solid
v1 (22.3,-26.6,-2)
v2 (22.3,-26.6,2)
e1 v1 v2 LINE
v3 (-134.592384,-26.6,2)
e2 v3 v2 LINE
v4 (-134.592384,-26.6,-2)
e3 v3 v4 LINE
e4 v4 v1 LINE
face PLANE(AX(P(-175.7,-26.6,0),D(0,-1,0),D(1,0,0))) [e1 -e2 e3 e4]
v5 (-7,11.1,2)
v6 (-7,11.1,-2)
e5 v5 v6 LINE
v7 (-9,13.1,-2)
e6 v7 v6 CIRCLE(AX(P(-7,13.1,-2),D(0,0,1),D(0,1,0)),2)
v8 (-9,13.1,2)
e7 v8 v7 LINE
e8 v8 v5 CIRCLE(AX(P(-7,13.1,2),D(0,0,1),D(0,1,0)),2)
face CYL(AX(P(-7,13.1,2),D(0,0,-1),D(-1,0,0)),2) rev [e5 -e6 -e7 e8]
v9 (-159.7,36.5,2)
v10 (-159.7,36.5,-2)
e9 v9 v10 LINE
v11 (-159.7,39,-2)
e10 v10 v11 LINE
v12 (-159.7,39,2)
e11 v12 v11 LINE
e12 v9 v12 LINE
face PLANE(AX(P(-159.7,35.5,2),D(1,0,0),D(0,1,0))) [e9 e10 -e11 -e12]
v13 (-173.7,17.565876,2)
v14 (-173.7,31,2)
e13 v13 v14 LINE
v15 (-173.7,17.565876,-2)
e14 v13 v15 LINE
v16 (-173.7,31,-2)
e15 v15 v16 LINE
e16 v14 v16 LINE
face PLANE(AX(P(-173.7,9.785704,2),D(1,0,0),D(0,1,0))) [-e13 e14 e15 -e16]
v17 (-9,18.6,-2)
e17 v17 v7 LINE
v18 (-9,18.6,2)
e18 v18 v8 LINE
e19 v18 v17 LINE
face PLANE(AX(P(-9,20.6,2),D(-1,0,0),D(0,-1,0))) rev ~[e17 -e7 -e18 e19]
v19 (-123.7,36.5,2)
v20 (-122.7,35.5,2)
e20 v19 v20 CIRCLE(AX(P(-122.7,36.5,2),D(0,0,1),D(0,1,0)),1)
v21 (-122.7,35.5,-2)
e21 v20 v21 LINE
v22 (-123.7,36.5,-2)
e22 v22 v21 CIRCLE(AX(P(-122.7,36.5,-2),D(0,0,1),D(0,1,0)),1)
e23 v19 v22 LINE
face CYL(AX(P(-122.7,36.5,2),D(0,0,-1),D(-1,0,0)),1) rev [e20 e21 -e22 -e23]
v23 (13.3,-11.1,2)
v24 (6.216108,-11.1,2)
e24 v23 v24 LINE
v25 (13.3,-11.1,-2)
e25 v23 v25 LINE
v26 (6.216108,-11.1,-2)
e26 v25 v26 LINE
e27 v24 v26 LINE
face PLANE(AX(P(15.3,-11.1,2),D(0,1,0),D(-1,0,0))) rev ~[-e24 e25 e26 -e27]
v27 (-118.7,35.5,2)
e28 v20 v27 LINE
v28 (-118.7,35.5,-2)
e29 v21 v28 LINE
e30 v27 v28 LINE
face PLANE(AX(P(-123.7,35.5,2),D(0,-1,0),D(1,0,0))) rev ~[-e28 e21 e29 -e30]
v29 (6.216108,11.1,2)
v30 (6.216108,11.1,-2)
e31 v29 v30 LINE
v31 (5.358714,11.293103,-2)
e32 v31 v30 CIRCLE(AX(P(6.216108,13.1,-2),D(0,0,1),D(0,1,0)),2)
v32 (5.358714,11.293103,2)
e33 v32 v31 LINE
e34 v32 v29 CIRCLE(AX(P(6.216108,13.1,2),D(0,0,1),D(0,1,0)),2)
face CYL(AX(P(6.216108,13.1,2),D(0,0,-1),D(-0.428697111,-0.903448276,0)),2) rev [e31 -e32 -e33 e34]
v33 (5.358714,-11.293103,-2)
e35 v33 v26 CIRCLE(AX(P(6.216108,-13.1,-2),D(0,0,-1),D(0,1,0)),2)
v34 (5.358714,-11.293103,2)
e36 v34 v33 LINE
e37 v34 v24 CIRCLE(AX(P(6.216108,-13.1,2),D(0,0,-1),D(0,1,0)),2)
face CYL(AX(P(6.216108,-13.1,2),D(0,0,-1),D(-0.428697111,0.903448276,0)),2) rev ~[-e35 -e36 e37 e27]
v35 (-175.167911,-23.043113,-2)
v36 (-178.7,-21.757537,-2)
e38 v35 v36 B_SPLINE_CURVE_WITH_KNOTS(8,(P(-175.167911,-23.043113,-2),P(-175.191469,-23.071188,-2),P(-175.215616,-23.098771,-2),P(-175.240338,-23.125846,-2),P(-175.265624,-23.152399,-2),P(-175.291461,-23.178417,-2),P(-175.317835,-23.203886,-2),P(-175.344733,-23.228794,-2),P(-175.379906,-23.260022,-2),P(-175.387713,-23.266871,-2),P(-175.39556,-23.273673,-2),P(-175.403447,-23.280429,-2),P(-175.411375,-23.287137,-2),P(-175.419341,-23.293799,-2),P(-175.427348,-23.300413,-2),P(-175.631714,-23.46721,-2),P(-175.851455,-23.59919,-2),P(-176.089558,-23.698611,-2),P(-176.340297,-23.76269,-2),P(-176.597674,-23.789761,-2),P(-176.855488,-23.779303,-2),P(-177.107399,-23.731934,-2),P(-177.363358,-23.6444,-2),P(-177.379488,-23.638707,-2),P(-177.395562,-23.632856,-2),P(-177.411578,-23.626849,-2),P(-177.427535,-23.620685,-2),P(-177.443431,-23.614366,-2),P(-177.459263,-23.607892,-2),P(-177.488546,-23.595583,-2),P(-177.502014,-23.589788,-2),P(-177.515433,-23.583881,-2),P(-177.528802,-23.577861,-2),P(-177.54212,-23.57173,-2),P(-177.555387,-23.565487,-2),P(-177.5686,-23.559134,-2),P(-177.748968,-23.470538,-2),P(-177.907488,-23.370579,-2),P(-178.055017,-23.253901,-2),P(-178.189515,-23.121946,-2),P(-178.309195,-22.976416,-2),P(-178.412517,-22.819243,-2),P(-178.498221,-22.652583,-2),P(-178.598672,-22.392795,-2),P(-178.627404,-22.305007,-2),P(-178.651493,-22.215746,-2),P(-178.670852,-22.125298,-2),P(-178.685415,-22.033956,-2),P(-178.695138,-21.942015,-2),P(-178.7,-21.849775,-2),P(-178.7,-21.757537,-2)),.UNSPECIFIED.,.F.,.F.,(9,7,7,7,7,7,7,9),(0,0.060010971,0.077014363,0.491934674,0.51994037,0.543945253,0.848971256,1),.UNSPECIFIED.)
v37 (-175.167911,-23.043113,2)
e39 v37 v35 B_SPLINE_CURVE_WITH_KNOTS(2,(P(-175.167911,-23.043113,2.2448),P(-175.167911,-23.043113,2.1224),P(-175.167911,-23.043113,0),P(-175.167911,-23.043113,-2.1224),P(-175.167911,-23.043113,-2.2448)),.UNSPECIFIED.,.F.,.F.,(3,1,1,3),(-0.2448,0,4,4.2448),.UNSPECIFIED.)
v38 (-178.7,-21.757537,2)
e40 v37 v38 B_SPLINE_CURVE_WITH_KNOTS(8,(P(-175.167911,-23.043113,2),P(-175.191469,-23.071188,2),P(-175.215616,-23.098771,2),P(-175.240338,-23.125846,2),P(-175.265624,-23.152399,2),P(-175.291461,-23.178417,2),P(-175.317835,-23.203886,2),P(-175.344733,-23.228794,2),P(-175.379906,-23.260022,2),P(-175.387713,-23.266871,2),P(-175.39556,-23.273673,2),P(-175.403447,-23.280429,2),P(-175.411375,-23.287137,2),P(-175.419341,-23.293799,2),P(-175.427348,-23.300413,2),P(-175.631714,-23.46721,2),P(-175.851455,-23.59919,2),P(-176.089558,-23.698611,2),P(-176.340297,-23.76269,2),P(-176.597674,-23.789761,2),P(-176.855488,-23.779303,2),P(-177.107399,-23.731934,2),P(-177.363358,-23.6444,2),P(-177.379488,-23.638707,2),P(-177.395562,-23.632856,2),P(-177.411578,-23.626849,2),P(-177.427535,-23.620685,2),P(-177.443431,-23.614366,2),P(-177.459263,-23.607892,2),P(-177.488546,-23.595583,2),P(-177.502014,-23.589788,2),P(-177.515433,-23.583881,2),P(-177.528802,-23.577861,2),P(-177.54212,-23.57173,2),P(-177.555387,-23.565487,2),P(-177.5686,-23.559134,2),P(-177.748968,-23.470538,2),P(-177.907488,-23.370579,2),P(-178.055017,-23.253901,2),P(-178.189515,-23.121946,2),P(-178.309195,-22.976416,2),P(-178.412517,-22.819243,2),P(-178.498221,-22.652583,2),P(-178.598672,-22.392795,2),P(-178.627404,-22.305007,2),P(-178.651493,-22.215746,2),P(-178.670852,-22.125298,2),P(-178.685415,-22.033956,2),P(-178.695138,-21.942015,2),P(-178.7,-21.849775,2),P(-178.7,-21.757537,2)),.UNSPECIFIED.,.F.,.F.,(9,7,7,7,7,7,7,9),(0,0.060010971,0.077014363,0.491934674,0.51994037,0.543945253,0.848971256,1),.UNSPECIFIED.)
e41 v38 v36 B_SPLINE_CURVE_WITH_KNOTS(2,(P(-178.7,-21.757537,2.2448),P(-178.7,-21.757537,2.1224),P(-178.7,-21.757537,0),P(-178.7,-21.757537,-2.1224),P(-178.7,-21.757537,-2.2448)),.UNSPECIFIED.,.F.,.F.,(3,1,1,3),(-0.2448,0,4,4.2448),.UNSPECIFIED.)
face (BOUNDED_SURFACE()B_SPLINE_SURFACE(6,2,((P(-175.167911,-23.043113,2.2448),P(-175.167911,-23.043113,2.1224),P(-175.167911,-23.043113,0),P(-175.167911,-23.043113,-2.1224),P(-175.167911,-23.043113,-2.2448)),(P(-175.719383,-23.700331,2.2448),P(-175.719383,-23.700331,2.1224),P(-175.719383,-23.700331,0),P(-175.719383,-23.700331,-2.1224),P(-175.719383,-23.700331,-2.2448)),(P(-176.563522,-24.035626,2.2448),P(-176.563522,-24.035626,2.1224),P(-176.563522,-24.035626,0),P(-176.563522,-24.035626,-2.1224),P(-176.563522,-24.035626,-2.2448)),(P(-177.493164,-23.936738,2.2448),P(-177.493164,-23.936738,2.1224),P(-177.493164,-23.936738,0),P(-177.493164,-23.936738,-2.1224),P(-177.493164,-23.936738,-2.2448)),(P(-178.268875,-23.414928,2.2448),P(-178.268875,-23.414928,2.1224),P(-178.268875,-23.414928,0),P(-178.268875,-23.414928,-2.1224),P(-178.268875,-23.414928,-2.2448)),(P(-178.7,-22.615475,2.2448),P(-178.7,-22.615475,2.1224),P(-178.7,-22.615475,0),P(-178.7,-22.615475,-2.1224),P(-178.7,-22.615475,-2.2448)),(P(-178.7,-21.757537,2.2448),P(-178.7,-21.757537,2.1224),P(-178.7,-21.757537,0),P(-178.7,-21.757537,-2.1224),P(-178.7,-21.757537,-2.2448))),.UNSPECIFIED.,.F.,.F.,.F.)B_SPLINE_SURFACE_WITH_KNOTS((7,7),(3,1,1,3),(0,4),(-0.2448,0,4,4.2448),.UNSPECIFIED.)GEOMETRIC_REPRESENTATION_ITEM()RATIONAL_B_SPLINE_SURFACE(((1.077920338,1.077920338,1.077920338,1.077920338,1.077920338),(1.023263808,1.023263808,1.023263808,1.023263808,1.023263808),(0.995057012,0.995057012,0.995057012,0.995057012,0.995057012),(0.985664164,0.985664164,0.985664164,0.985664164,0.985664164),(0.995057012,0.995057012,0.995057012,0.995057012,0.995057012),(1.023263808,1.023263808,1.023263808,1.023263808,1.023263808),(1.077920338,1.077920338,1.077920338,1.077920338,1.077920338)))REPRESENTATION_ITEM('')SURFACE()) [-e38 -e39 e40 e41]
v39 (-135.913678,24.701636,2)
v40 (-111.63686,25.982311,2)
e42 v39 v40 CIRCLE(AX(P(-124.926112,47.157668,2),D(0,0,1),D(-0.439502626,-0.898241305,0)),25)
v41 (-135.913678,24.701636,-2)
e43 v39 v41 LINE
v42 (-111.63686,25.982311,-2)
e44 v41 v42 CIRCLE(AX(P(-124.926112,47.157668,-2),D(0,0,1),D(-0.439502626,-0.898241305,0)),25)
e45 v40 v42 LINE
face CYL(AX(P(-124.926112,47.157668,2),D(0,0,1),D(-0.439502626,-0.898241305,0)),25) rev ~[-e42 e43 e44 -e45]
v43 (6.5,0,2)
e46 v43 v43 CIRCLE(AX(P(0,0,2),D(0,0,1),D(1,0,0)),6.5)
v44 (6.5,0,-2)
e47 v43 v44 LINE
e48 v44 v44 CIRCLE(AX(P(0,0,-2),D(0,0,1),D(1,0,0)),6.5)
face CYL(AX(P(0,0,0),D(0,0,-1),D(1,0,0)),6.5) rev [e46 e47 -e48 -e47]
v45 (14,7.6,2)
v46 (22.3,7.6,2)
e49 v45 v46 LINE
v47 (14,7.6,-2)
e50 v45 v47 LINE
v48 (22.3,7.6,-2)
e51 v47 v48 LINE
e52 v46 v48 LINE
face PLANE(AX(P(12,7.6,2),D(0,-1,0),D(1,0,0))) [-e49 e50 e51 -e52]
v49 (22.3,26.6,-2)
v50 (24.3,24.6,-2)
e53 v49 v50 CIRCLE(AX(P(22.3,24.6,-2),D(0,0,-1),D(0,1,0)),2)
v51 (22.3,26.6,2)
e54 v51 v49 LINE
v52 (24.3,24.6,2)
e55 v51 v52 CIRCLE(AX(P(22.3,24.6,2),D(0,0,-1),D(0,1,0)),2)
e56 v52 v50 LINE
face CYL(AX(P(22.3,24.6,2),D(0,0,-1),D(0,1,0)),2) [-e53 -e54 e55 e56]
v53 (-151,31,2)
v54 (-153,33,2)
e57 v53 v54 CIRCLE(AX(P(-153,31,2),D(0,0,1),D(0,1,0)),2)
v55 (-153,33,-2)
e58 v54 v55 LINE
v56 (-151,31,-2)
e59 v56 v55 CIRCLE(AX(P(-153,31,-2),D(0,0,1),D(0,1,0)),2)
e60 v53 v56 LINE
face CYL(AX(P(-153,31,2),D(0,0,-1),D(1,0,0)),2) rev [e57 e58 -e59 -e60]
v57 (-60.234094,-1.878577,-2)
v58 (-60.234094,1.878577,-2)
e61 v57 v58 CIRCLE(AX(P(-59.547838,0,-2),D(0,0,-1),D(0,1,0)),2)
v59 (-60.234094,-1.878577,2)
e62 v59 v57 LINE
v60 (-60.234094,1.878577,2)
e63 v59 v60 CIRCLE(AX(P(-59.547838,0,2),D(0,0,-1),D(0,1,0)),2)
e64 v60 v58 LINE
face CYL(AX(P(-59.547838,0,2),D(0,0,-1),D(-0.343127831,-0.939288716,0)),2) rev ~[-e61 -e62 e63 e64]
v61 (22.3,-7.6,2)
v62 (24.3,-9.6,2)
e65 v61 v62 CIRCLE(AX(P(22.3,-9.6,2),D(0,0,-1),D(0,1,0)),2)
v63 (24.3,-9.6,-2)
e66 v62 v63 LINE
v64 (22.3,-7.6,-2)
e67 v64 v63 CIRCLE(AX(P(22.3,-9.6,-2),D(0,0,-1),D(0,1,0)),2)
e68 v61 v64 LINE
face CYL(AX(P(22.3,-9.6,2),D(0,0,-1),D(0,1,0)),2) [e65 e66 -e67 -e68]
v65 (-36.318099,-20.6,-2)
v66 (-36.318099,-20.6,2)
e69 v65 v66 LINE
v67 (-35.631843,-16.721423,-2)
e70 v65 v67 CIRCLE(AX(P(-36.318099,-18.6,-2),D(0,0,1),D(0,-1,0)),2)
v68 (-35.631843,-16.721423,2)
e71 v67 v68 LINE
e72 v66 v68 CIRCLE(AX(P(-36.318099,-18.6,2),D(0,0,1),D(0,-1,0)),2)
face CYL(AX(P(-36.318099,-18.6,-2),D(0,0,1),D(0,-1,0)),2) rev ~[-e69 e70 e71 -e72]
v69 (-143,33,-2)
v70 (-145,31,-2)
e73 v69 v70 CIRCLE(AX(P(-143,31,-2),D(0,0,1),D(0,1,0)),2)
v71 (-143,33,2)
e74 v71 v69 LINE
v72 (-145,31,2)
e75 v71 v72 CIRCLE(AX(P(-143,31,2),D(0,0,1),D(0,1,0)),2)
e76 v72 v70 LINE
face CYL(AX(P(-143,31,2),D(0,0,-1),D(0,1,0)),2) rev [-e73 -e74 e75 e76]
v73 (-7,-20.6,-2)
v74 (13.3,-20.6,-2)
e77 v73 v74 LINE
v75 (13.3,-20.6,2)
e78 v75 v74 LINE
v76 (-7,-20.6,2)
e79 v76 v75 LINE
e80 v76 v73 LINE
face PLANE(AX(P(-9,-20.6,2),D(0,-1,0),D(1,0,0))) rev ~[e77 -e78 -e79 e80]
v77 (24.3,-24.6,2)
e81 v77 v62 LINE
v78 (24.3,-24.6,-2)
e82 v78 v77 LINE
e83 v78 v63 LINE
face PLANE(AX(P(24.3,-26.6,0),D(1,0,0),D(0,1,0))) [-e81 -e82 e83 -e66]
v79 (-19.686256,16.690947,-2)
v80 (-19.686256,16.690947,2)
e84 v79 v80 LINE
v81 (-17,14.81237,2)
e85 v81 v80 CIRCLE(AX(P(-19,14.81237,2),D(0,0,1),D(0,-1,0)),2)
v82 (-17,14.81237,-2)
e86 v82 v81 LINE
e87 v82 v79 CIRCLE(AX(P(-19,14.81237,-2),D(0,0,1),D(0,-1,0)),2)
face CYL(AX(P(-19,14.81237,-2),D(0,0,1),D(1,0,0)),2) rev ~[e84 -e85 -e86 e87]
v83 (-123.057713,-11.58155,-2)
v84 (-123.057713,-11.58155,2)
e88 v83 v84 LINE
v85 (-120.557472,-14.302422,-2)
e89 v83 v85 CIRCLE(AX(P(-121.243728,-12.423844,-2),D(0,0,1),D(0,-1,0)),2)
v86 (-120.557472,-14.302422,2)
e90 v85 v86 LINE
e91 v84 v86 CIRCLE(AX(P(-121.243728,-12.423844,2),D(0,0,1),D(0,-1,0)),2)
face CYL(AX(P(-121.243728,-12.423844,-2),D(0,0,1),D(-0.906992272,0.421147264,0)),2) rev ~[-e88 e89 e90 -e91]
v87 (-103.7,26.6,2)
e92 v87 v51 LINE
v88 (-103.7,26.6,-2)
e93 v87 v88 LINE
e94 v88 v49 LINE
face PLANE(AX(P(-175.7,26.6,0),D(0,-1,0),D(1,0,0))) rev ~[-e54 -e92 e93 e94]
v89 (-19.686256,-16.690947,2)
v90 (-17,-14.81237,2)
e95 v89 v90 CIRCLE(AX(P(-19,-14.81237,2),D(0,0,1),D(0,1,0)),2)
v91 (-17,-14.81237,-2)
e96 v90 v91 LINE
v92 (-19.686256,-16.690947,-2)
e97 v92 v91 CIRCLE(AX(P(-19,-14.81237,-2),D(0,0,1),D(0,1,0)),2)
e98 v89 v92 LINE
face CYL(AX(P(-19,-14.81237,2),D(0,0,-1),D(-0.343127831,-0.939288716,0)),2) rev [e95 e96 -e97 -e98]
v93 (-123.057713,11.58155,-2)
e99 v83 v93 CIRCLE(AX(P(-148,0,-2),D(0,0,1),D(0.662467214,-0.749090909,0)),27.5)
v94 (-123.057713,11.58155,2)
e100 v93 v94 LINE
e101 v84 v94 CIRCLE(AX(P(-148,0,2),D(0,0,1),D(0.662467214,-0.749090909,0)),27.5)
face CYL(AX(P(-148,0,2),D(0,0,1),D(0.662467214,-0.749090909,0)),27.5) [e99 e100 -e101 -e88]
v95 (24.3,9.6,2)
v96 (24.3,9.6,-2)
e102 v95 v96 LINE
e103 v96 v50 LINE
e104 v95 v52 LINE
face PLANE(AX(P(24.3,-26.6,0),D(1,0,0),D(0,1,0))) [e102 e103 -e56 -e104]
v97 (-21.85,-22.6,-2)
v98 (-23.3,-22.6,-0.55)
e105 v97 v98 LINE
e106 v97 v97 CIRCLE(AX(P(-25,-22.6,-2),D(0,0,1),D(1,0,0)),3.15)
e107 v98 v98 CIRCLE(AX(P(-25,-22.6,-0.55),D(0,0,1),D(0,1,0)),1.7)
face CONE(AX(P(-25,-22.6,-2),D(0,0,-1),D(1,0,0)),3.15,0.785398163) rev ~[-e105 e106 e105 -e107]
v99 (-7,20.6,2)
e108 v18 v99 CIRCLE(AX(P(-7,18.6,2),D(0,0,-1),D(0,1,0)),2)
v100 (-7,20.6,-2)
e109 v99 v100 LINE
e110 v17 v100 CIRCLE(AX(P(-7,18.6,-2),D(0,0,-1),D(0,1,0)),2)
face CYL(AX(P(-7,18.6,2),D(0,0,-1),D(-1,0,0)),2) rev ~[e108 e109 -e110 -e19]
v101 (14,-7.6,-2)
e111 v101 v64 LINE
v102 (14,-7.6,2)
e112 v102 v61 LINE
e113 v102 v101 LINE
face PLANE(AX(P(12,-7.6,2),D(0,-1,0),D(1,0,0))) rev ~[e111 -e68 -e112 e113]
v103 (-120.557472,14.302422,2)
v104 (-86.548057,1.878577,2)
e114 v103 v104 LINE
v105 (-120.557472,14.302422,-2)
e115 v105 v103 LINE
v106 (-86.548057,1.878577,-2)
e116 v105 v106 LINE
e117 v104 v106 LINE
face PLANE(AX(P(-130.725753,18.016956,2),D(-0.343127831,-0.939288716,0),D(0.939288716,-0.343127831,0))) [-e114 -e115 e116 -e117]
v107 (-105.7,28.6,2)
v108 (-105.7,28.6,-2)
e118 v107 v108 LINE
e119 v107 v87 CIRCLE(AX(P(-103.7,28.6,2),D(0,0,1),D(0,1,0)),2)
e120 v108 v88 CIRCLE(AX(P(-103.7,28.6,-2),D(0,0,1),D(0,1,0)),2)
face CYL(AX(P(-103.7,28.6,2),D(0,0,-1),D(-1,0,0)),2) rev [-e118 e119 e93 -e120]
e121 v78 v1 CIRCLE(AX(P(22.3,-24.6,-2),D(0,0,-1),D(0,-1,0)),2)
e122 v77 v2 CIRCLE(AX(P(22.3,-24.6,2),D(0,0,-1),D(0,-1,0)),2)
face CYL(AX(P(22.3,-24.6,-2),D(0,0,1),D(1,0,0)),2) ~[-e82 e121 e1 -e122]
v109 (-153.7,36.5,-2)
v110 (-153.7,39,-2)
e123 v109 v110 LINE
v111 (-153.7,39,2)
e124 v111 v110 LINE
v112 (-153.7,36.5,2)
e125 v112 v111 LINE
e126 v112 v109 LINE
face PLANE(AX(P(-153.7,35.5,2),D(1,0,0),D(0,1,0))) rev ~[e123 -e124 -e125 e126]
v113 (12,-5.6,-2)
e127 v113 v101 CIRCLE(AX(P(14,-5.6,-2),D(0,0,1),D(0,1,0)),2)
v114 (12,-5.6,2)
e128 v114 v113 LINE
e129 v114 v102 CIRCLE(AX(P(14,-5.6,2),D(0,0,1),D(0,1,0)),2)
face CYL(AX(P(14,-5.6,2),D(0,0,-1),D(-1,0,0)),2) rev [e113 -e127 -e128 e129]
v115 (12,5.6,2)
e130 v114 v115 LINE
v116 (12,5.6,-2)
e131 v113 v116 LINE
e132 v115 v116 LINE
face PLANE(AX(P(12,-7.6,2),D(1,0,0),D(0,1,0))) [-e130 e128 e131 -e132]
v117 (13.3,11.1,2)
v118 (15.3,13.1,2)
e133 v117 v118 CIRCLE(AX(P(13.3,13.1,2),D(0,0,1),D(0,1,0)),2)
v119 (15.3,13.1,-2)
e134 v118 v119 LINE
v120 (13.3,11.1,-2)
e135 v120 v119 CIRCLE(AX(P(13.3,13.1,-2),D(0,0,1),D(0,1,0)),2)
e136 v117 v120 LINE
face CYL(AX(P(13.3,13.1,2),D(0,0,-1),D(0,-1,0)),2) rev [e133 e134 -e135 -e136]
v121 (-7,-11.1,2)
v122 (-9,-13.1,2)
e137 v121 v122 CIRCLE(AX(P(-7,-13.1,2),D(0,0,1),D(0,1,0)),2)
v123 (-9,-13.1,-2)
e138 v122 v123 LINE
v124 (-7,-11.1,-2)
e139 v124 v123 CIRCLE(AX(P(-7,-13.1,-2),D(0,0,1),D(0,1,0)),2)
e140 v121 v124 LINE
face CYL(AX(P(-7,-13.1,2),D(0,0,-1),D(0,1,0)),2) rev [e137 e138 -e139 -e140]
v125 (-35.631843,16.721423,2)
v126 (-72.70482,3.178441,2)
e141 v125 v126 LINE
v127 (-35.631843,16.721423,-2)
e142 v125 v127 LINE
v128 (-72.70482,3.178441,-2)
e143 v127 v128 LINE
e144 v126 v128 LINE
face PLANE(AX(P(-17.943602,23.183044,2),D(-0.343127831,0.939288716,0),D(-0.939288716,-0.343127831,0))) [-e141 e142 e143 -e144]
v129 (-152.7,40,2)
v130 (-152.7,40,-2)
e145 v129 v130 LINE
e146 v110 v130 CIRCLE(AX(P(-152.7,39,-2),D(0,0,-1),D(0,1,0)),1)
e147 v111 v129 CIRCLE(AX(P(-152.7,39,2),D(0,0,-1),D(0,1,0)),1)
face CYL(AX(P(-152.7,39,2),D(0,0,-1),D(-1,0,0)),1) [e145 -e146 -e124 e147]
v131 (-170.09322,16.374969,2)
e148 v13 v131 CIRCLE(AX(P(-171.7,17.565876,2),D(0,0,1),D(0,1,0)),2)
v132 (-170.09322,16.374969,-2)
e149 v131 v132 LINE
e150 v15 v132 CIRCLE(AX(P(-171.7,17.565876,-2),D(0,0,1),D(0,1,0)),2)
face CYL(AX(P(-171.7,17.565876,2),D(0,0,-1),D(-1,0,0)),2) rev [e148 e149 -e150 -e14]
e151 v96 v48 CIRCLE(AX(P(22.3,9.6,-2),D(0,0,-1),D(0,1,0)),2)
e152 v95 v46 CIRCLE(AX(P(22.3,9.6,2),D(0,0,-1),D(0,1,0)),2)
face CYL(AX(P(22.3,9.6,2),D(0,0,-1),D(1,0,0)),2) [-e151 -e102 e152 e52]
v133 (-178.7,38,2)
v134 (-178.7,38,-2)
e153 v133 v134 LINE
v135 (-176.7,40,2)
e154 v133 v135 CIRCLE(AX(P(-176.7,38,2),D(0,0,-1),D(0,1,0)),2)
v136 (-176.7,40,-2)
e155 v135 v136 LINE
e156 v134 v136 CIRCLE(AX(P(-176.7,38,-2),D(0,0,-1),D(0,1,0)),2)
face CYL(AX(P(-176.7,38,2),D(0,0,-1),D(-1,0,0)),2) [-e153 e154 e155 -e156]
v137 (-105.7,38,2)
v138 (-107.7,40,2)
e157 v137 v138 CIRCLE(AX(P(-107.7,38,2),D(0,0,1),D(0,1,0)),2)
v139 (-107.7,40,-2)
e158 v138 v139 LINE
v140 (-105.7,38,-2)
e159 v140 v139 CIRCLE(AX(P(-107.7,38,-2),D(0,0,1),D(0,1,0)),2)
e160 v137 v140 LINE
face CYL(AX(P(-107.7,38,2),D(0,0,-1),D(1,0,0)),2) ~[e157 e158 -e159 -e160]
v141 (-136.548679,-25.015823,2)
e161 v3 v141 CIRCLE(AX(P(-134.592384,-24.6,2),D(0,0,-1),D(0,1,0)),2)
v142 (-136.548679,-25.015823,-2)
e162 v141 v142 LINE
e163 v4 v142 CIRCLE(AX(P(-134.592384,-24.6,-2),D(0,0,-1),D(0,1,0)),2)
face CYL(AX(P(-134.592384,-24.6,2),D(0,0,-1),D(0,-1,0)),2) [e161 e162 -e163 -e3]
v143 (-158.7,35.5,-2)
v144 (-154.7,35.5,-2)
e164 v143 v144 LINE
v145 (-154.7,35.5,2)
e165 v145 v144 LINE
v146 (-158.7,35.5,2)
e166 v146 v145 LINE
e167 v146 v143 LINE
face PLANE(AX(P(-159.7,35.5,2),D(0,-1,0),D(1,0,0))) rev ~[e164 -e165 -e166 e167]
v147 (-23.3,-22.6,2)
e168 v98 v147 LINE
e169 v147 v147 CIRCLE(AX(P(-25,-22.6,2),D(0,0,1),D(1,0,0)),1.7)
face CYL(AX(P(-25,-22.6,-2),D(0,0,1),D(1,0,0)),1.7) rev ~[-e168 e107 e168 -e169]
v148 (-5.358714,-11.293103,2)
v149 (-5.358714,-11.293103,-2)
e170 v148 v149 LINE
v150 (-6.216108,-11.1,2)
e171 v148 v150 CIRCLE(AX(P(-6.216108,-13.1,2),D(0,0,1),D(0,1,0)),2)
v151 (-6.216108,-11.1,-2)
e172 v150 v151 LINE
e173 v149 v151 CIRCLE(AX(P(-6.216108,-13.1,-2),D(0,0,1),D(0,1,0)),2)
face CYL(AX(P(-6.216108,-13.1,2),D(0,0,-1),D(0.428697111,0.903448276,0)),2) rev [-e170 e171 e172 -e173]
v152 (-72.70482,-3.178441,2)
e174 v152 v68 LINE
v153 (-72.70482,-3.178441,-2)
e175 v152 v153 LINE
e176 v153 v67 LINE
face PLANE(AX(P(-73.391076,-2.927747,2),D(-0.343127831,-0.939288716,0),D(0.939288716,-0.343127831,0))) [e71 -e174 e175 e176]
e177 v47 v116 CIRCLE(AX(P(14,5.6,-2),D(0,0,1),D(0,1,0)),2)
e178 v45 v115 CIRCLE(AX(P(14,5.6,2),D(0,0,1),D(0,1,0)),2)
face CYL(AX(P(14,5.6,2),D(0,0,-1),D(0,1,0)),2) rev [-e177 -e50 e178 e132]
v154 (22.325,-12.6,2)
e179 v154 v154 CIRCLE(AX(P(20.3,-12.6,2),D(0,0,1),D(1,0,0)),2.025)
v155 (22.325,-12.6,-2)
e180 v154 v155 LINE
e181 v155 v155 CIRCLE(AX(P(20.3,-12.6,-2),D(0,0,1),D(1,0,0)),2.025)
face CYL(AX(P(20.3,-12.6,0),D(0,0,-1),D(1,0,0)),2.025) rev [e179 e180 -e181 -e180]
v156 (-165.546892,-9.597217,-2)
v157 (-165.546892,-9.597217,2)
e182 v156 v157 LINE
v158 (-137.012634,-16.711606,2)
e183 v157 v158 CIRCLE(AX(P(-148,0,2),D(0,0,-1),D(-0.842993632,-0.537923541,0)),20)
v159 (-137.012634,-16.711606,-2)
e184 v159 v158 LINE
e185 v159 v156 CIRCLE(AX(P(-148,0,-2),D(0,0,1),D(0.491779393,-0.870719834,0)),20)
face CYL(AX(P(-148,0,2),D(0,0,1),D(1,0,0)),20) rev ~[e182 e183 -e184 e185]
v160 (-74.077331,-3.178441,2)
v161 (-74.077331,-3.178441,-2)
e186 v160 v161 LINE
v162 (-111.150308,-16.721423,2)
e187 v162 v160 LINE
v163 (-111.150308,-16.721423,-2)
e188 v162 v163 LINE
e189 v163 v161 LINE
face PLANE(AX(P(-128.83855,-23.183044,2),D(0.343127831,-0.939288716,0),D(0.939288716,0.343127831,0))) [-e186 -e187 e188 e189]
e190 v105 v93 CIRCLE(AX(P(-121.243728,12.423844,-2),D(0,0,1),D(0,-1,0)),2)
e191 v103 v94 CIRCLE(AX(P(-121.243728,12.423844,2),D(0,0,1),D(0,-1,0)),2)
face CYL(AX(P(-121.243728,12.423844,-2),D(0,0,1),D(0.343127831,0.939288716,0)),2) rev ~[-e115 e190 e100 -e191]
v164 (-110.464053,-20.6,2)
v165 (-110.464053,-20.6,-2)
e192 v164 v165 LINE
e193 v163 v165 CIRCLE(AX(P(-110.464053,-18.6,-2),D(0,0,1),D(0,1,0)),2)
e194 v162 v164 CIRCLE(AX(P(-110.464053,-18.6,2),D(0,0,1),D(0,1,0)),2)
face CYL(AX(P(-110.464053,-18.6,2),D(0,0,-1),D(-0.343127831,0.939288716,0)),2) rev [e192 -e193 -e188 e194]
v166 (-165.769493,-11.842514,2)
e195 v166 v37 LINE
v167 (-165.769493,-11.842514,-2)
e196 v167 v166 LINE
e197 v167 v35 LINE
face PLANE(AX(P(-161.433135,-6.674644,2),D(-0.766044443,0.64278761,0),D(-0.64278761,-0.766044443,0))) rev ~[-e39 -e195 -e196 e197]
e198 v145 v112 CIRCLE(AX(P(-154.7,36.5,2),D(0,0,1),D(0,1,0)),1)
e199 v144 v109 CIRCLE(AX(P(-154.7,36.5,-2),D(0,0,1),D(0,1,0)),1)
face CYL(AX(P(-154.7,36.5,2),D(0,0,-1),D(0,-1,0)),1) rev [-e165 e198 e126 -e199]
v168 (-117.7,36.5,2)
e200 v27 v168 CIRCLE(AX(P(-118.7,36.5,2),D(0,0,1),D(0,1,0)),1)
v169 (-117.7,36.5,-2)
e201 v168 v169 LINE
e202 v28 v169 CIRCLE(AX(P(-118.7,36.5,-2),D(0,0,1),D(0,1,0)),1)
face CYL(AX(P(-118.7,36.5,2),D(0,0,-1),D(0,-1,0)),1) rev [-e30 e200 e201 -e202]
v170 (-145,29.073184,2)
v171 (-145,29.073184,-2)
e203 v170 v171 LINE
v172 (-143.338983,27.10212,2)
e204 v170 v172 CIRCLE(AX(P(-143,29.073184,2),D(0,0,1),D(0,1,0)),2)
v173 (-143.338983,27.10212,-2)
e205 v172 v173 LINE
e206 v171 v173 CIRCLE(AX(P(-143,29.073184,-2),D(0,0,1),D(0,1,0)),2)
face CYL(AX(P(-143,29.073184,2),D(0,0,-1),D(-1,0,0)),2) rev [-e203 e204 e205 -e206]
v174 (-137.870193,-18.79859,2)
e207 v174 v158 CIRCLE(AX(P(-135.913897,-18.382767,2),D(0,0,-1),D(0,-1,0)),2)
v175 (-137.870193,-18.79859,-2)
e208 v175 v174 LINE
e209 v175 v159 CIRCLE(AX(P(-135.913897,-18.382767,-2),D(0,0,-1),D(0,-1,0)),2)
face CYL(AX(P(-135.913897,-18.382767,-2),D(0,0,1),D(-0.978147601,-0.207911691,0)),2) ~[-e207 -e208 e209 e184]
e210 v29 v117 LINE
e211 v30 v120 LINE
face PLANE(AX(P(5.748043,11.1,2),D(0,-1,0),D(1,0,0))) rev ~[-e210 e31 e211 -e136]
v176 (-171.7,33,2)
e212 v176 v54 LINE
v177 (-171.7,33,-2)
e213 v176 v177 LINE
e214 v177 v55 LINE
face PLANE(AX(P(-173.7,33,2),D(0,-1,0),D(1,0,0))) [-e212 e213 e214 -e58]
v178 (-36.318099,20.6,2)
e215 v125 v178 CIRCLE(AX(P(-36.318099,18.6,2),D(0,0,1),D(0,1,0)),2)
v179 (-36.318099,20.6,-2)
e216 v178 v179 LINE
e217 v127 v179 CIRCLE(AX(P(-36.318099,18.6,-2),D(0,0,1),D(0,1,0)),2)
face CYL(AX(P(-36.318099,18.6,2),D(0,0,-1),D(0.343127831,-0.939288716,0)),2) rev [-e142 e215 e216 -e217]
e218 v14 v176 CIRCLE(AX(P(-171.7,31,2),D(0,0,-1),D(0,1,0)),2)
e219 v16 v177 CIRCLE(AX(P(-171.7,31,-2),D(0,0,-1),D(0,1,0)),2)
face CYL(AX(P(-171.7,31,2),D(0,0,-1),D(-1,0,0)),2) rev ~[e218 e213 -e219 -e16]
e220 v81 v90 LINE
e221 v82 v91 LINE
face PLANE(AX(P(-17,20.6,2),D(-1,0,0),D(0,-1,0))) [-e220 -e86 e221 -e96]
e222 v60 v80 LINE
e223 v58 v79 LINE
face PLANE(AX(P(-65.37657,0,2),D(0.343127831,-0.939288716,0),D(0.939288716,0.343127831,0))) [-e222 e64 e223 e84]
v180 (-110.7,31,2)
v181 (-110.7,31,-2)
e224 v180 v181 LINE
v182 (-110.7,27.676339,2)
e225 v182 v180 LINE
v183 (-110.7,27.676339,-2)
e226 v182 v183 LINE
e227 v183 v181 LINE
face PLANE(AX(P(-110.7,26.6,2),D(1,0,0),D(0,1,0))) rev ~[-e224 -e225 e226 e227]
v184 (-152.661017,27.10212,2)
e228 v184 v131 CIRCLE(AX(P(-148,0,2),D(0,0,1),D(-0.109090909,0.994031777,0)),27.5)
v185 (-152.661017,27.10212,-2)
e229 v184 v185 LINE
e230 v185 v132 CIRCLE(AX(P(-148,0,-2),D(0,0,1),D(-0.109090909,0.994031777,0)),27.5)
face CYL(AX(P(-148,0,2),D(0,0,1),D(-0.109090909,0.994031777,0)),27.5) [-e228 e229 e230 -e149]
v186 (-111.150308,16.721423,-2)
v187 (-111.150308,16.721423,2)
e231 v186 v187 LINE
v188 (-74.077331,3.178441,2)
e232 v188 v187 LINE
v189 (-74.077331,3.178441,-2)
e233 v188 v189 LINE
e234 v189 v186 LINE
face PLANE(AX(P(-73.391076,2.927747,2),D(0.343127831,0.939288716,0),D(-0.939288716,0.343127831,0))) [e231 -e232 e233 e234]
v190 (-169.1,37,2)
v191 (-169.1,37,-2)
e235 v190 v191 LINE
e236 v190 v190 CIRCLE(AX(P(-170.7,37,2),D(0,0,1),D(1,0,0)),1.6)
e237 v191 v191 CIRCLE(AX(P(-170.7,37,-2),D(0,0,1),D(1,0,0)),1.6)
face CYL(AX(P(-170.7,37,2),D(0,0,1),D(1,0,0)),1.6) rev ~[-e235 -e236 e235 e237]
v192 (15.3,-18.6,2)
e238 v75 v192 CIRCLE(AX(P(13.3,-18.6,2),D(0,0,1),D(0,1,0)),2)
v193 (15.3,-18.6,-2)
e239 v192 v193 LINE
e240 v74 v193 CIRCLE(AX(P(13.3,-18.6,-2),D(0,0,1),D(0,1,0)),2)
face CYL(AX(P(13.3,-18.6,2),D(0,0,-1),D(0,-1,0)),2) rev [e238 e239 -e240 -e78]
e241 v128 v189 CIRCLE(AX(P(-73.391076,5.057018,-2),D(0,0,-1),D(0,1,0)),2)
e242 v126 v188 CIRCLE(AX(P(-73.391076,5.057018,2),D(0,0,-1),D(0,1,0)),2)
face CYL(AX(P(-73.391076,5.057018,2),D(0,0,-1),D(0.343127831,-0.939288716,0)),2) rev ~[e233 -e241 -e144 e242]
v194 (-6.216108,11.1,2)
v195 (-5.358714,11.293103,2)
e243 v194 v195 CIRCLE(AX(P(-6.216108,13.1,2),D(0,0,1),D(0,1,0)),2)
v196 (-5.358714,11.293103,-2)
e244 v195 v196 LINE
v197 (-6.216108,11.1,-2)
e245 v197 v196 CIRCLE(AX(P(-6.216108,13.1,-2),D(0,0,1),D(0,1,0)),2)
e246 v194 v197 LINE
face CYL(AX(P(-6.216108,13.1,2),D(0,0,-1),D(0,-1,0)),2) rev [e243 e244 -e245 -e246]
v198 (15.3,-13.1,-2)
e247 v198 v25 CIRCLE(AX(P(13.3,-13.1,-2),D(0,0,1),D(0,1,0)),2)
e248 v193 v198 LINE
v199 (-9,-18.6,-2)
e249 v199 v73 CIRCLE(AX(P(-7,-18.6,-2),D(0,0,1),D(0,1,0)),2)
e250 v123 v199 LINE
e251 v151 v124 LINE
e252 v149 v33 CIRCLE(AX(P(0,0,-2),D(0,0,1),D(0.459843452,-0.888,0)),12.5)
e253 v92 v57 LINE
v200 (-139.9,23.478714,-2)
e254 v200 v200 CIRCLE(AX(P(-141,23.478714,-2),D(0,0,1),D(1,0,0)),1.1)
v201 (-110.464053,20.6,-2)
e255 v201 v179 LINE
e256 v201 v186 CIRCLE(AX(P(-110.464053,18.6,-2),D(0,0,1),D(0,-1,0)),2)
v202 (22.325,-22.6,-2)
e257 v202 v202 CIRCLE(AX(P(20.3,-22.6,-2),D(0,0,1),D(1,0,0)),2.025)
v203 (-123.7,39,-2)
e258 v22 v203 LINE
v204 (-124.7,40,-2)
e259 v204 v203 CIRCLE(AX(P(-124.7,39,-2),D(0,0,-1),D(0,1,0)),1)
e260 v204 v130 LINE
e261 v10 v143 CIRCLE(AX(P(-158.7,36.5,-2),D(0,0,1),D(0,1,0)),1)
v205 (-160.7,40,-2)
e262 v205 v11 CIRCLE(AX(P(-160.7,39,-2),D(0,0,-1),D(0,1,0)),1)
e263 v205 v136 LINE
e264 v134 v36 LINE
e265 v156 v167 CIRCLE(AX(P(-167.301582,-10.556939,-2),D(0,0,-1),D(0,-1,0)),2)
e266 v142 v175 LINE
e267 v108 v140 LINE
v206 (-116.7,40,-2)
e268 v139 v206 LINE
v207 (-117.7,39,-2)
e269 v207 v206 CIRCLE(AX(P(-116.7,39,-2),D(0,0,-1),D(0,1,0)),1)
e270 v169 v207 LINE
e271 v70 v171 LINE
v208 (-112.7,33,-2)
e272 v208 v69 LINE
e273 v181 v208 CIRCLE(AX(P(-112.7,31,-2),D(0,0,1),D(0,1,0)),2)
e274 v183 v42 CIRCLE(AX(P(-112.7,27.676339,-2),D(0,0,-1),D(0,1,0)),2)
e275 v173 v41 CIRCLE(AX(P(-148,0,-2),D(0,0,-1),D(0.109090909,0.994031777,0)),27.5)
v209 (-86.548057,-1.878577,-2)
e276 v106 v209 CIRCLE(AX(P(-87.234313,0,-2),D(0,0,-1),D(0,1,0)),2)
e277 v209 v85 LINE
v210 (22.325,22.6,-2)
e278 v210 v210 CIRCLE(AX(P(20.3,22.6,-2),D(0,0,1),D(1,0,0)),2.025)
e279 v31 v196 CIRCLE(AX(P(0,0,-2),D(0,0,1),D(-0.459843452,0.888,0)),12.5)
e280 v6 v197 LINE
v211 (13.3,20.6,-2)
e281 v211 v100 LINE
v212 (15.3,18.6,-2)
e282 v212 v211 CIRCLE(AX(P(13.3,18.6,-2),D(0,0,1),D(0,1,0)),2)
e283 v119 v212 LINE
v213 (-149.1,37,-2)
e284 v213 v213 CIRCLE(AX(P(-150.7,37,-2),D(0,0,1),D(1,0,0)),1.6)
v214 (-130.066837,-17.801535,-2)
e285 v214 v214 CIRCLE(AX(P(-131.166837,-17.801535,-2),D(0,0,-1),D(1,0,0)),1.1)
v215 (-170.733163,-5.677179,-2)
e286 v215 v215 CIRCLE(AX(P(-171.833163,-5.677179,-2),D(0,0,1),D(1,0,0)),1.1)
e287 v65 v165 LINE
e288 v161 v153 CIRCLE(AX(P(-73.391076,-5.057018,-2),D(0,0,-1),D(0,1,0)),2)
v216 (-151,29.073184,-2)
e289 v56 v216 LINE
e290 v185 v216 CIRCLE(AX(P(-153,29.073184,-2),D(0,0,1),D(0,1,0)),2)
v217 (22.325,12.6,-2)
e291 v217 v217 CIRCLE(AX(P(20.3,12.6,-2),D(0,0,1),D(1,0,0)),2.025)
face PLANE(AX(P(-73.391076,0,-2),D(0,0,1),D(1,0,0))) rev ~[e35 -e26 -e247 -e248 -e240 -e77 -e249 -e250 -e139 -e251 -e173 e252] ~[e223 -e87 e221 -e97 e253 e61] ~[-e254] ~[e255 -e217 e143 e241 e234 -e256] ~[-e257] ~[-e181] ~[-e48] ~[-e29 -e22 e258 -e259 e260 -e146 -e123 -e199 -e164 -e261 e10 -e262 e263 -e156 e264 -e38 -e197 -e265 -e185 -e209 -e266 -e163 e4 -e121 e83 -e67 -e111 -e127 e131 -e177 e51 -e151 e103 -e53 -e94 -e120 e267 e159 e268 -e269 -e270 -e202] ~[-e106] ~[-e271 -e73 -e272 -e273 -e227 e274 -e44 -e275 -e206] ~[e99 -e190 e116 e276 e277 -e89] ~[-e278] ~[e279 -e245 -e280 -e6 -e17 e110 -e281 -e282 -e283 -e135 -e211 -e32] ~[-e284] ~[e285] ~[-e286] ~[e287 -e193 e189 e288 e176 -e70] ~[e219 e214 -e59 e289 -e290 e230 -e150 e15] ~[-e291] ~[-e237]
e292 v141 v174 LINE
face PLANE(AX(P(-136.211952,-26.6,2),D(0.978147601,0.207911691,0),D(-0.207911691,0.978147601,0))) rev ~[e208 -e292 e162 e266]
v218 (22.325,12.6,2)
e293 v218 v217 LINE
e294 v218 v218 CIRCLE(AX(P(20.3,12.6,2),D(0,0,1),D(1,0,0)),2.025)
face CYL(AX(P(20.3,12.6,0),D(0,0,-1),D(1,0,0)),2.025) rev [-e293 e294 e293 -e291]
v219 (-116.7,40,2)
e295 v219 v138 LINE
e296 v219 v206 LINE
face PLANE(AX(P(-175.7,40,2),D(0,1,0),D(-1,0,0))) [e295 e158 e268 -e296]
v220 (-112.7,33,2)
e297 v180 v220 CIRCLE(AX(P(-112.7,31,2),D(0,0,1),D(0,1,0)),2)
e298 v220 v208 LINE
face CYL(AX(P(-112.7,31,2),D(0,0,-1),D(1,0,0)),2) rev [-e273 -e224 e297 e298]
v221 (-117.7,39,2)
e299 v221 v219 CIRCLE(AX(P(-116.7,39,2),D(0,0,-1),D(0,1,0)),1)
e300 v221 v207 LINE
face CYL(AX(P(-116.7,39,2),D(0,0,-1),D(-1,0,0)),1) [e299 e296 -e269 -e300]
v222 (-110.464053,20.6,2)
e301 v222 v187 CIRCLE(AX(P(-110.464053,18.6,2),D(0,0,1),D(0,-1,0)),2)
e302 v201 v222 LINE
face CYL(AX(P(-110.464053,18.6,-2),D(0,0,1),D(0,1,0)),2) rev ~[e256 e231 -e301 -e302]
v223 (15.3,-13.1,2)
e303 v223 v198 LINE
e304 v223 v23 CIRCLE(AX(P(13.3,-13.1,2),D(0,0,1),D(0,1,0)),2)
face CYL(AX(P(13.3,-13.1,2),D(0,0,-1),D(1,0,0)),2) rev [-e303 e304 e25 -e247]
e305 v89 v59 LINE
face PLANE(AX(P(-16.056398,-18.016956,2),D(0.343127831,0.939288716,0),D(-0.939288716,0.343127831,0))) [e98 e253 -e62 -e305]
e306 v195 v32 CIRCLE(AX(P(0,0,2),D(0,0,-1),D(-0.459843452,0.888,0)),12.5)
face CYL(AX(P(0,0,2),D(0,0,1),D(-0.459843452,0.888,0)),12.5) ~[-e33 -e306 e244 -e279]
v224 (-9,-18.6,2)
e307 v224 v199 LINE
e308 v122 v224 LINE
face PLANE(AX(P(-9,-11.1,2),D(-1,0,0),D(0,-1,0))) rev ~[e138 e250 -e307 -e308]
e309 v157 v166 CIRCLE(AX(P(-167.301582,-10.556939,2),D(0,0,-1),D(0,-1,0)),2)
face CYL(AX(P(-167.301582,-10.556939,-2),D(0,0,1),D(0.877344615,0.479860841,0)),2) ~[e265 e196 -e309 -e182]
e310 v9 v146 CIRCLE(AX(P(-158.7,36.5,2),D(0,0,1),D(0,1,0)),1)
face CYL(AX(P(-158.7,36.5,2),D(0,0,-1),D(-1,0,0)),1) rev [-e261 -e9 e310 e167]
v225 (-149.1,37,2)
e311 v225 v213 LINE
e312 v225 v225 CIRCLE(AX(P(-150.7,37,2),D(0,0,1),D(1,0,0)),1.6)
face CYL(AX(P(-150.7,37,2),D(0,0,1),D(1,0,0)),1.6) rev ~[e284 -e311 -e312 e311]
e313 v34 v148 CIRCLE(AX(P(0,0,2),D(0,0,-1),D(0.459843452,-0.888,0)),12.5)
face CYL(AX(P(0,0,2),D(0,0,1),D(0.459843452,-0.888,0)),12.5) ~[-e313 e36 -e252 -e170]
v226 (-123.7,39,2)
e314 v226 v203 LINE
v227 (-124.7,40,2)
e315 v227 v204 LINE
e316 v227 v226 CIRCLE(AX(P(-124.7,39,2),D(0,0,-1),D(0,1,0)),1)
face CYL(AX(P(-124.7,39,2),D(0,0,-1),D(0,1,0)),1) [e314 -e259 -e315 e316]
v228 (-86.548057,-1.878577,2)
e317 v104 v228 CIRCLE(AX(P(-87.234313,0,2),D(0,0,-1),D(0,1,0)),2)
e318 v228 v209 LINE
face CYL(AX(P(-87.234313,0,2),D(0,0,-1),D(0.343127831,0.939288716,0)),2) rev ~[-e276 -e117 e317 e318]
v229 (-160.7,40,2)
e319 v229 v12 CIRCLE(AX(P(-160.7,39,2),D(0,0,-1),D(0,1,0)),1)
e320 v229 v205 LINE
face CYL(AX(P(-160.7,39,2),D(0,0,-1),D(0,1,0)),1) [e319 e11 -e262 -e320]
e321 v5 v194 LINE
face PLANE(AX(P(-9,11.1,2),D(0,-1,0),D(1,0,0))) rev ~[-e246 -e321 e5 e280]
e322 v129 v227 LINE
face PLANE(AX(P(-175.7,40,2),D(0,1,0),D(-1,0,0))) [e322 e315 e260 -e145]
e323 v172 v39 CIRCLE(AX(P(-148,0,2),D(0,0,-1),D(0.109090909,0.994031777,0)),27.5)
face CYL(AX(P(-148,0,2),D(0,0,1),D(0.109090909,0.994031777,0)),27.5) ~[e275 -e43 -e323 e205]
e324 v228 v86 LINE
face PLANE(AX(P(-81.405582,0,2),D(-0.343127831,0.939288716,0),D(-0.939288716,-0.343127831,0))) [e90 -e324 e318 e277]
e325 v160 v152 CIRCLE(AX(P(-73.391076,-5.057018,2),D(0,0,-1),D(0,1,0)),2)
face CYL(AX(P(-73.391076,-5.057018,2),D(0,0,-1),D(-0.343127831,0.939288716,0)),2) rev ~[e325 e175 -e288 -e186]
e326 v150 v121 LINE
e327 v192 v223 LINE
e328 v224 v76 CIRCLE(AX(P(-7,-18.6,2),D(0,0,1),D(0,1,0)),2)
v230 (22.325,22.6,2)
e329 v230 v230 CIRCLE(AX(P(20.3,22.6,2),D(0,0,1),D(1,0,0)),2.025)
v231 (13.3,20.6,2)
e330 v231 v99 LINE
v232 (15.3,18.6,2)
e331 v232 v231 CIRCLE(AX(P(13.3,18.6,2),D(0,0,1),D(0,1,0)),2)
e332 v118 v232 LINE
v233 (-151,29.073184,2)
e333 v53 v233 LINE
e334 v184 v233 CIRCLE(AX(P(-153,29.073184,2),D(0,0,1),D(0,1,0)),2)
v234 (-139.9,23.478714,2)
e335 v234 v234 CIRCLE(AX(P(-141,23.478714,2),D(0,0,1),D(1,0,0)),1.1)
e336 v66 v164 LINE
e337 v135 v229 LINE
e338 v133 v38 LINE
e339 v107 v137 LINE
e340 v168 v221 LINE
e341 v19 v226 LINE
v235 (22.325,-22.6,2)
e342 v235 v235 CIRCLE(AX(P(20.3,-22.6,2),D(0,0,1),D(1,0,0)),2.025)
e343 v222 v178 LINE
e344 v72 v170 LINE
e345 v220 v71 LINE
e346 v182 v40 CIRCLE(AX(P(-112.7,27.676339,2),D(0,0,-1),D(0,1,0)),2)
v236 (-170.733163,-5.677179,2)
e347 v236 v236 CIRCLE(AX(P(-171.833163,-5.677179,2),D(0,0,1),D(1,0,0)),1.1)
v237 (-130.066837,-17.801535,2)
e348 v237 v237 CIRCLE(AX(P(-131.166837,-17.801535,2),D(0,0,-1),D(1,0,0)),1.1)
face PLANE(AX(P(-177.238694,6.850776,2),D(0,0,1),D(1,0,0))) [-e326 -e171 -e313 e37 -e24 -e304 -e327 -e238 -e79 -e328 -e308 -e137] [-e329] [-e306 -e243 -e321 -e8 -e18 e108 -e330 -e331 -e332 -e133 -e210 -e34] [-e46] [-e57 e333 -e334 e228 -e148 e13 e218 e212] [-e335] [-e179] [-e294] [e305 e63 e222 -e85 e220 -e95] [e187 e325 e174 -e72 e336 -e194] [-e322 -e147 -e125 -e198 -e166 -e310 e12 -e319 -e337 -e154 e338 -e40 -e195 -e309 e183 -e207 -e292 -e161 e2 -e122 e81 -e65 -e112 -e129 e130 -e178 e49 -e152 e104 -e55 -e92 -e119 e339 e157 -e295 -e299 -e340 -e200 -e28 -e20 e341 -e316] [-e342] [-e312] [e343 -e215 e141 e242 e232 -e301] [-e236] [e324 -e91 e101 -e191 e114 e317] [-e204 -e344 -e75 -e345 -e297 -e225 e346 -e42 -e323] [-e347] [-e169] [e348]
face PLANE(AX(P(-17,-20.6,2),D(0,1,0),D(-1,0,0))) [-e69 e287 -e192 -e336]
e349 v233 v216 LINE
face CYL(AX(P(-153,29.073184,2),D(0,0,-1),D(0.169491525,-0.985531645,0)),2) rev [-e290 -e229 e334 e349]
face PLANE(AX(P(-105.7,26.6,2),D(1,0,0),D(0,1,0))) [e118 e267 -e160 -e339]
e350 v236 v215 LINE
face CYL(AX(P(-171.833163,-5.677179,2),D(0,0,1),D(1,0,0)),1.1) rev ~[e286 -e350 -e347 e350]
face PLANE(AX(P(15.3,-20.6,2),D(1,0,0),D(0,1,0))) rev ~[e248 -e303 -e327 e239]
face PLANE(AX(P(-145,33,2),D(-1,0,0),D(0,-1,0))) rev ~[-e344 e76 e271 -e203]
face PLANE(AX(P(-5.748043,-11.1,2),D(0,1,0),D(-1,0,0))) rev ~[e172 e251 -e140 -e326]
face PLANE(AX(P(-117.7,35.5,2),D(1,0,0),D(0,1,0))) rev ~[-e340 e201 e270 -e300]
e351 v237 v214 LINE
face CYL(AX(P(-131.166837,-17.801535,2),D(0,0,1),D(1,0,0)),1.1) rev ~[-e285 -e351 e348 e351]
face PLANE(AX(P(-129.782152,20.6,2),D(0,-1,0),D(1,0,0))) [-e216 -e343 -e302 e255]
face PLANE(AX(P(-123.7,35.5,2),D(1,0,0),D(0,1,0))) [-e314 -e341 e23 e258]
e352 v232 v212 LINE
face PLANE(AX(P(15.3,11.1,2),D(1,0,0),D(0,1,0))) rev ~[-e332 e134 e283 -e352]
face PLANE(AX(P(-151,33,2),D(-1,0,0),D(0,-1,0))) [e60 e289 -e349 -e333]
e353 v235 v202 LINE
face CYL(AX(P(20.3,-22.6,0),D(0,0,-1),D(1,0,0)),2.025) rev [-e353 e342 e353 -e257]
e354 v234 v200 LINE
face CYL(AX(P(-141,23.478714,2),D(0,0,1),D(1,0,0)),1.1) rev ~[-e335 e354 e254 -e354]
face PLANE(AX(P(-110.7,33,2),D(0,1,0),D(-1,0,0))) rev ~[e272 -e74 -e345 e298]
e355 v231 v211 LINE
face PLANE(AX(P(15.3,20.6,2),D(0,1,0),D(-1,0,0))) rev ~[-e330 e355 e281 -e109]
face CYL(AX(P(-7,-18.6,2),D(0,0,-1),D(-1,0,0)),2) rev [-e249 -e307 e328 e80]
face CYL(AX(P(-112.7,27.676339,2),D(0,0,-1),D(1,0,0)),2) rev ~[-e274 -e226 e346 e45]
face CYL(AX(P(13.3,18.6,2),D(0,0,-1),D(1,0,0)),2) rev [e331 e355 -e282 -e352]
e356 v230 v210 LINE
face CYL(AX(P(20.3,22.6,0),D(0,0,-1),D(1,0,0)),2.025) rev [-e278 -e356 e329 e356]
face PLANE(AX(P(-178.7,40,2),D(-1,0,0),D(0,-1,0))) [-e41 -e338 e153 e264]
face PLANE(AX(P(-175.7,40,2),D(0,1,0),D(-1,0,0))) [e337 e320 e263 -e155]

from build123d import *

# Parameters (mm, degrees)
SKETCH_1_W                   = 200
SKETCH_1_H                   = 53.2
SKETCH_1_R                   = 6.5
SKETCH_1_R_2                 = 2.025
EXTRUDE_1_DEPTH              = 2
SKETCH_2_R                   = 20
CUT_EXTRUDE_1_DEPTH          = 5
CUT_EXTRUDE_2_DEPTH          = 10
SKETCH_4_R                   = 1.1
CUT_EXTRUDE_3_DEPTH          = 10
SKETCH_5_W                   = 70
SKETCH_5_H                   = 13.4
SKETCH_5_R                   = 1.6
EXTRUDE_2_DEPTH              = 4
EXTRUDE_3_DEPTH              = 4
SKETCH_7_W                   = 12.3
SKETCH_7_H                   = 15.2
CUT_EXTRUDE_4_DEPTH          = 10
CUT_EXTRUDE_5_DEPTH          = 10
EXTRUDE_1_2_DEPTH            = 4
SKETCH_10_R                  = 1.1
CUT_EXTRUDE_6_DEPTH          = 4
FILLET_1_R                   = 2
CUT_EXTRUDE_7_DEPTH          = 4
FILLET_2_R                   = 2
SKETCH_12_R                  = 1.55
CUT_EXTRUDE_8_DEPTH          = 10
HOLE_WIZARD_M3_1_D           = 3.4
HOLE_WIZARD_M3_1_CSINK_D     = 6.3
HOLE_WIZARD_M3_1_CSINK_ANGLE = 90
SKETCH_16_W                  = 6
SKETCH_16_H                  = 4.5
CUT_EXTRUDE_9_DEPTH          = 10
FILLET_3_R                   = 1


with BuildPart() as part:
    # 草图1 → Extrude 1 (new, symmetric)
    with BuildSketch(Plane.XY):
        with Locations((-75.7, 0)):
            Rectangle(SKETCH_1_W, SKETCH_1_H)
        Circle(SKETCH_1_R, mode=Mode.SUBTRACT)
        with Locations((20.3, 22.6)):
            Circle(SKETCH_1_R_2, mode=Mode.SUBTRACT)
        with Locations((20.3, 12.6)):
            Circle(SKETCH_1_R_2, mode=Mode.SUBTRACT)
        with Locations((20.3, -12.6)):
            Circle(SKETCH_1_R_2, mode=Mode.SUBTRACT)
        with Locations((20.3, -22.6)):
            Circle(SKETCH_1_R_2, mode=Mode.SUBTRACT)
    extrude(amount=EXTRUDE_1_DEPTH, both=True)

    # 草图2 → 切除-拉伸1 (cut)
    with BuildSketch(Plane.XY.offset(2)):
        with Locations((-148, 0)):
            Circle(SKETCH_2_R)
    extrude(amount=-CUT_EXTRUDE_1_DEPTH, mode=Mode.SUBTRACT)

    # 草图3 → 切除-拉伸2 (cut)
    with BuildSketch(Plane.XY.offset(2)):
        with BuildLine():
            Line((-136.21195189, -26.6), (-139.272801212, -12.199836119))
            ThreePointArc((-139.272801212, -12.199836119), (-151.628828434, -14.554435894), (-161.43313529, -6.674644281))
            Line((-161.43313529, -6.674644281), (-175.7, -23.677231554))
            Line((-175.7, -23.677231554), (-175.7, -26.6))
            Line((-175.7, -26.6), (-136.21195189, -26.6))
        make_face()
    extrude(amount=-CUT_EXTRUDE_2_DEPTH, mode=Mode.SUBTRACT)

    # 草图4 → 切除-拉伸3 (cut)
    with BuildSketch(Plane.XY.offset(2)):
        with Locations((-141, 23.478713764)):
            Circle(SKETCH_4_R)
        with Locations((-131.166837432, -17.801534708)):
            Circle(SKETCH_4_R)
        with Locations((-171.833162568, -5.677179055)):
            Circle(SKETCH_4_R)
    extrude(amount=-CUT_EXTRUDE_3_DEPTH, mode=Mode.SUBTRACT)

    # 草图5 → 凸台-拉伸2 (add)
    with BuildSketch(Plane.XY.offset(2)):
        with Locations((-140.7, 33.3)):
            Rectangle(SKETCH_5_W, SKETCH_5_H)
        with Locations((-170.7, 37)):
            Circle(SKETCH_5_R, mode=Mode.SUBTRACT)
        with Locations((-150.7, 37)):
            Circle(SKETCH_5_R, mode=Mode.SUBTRACT)
    extrude(amount=-EXTRUDE_2_DEPTH)

    # 草图6 → 凸台-拉伸3 (add)
    with BuildSketch(Plane.XY.offset(2)):
        Polygon((-175.7, 40), (-178.7, 40), (-178.7, -27.252492331), (-175.7, -23.677231554), align=None)
    extrude(amount=-EXTRUDE_3_DEPTH)

    # 草图7 → 切除-拉伸4 (cut)
    with BuildSketch(Plane.XY.offset(2)):
        with Locations((18.15, 0)):
            Rectangle(SKETCH_7_W, SKETCH_7_H)
        with BuildLine():
            Line((15.3, -11.1), (5.748043145, -11.1))
            ThreePointArc((5.748043145, -11.1), (0, -12.5), (-5.748043145, -11.1))
            Line((-5.748043145, -11.1), (-9, -11.1))
            Line((-9, -11.1), (-9, -20.6))
            Line((-9, -20.6), (15.3, -20.6))
            Line((15.3, -20.6), (15.3, -11.1))
        make_face()
        with BuildLine():
            ThreePointArc((-5.748043145, 11.1), (0, 12.5), (5.748043145, 11.1))
            Line((5.748043145, 11.1), (15.3, 11.1))
            Line((15.3, 11.1), (15.3, 20.6))
            Line((15.3, 20.6), (-9, 20.6))
            Line((-9, 20.6), (-9, 11.1))
            Line((-9, 11.1), (-5.748043145, 11.1))
        make_face()
    extrude(amount=-CUT_EXTRUDE_4_DEPTH, mode=Mode.SUBTRACT)

    # 草图8 → 切除-拉伸5 (cut)
    with BuildSketch(Plane.XY.offset(2)):
        with BuildLine():
            Line((-17, -20.6), (-129.782151609, -20.6))
            ThreePointArc((-129.782151609, -20.6), (-120.5, 0), (-129.782151609, 20.6))
            Line((-129.782151609, 20.6), (-17, 20.6))
            Line((-17, 20.6), (-17, -20.6))
        make_face()
    extrude(amount=-CUT_EXTRUDE_5_DEPTH, mode=Mode.SUBTRACT)

    # 草图9 → Extrude 1 2 (add)
    with BuildSketch(Plane.XY.offset(2)):
        Polygon((-16.056398464, -18.016956032), (-128.838550073, 23.183043968), (-130.725753145, 18.016956032), (-17.943601536, -23.183043968), align=None)
        Polygon((-17.943601536, 23.183043968), (-130.725753145, -18.016956032), (-128.838550073, -23.183043968), (-16.056398464, 18.016956032), align=None)
    extrude(amount=-EXTRUDE_1_2_DEPTH)

    # 草图10 → 切除-拉伸6 (cut)
    with BuildSketch(Plane.XY.offset(2)):
        with Locations((-131.166837432, -17.801534708)):
            Circle(SKETCH_10_R)
    extrude(amount=-CUT_EXTRUDE_6_DEPTH, mode=Mode.SUBTRACT)

    # 圆角1
    fillet_1_edges = [part.edges().sort_by_distance(p)[0] for p in [
        (-178.7, -27.252492331, 0),
        (-178.7, 40, 0),
        (24.3, -7.6, 0),
        (24.3, 7.6, 0),
        (-5.748043145, -11.1, 0),
        (5.748043145, -11.1, 0),
        (15.3, -11.1, 0),
        (15.3, -20.6, 0),
        (-9, -20.6, 0),
        (-9, -11.1, 0),
        (5.748043145, 11.1, 0),
        (-5.748043145, 11.1, 0),
        (-9, 11.1, 0),
        (-9, 20.6, 0),
        (15.3, 20.6, 0),
        (15.3, 11.1, 0),
        (12, -7.6, 0),
        (12, 7.6, 0),
        (-25.014505818, 20.6, 0),
        (-121.767645791, 20.6, 0),
        (-125.787682754, -16.213049144, 0),
        (-125.787682754, 16.213049144, 0),
        (-121.767645791, -20.6, 0),
        (-25.014505818, -20.6, 0),
        (-17, 17.672252701, 0),
        (-17, -17.672252701, 0),
        (-65.376569986, 0, 0),
        (-73.391075804, -2.927747299, 0),
        (-81.405581623, 0, 0),
        (-73.391075804, 2.927747299, 0),
        (-164.85987264, -10.758470828, 0),
        (-138.16441215, -17.414396677, 0),
        (-136.21195189, -26.6, 0),
        (24.3, 26.6, 0),
        (24.3, -26.6, 0),
        (-105.7, 40, 0),
        (-105.7, 26.6, 0),
    ]]
    fillet(fillet_1_edges, radius=FILLET_1_R)

    # 草图11 → 切除-拉伸7 (cut)
    with BuildSketch(Plane.XY.offset(2)):
        with BuildLine():
            Line((-110.7, 26.6), (-110.7, 33))
            Line((-110.7, 33), (-145, 33))
            Line((-145, 33), (-145, 27.335873866))
            ThreePointArc((-145, 27.335873866), (-140.342710532, 26.412419768), (-135.913677776, 24.701635879))
            ThreePointArc((-135.913677776, 24.701635879), (-123.049148512, 22.228227917), (-110.7, 26.6))
        make_face()
        with BuildLine():
            Line((-173.7, 33), (-151, 33))
            Line((-151, 33), (-151, 27.335873866))
            ThreePointArc((-151, 27.335873866), (-164.82036316, 21.756042452), (-173.7, 9.785703858))
            Line((-173.7, 9.785703858), (-173.7, 33))
        make_face()
    extrude(amount=-CUT_EXTRUDE_7_DEPTH, mode=Mode.SUBTRACT)

    # 圆角2
    fillet_2_edges = [part.edges().sort_by_distance(p)[0] for p in [
        (-110.7, 26.6, 0),
        (-145, 27.335873866, 0),
        (-145, 33, 0),
        (-110.7, 33, 0),
        (-173.7, 9.785703858, 0),
        (-173.7, 33, 0),
        (-151, 33, 0),
        (-151, 27.335873866, 0),
    ]]
    fillet(fillet_2_edges, radius=FILLET_2_R)

    # 草图12 → 切除-拉伸8 (cut)
    with BuildSketch(Plane.XY.offset(2)):
        with Locations((-25, -22.6)):
            Circle(SKETCH_12_R)
    extrude(amount=-CUT_EXTRUDE_8_DEPTH, mode=Mode.SUBTRACT)

    # M3 锥坑平头螺钉的锥形沉头孔1 (through all)
    with Locations(Plane(origin=(0, 0, -2), x_dir=(-1, 0, 0), z_dir=(0, 0, -1))):
        with Locations((25, -22.6)):
            CounterSinkHole(HOLE_WIZARD_M3_1_D / 2, HOLE_WIZARD_M3_1_CSINK_D / 2, counter_sink_angle=HOLE_WIZARD_M3_1_CSINK_ANGLE)

    # 草图16 → 切除-拉伸9 (cut)
    with BuildSketch(Plane.XY.offset(2)):
        with Locations((-120.7, 37.75)):
            Rectangle(SKETCH_16_W, SKETCH_16_H)
        with Locations((-156.7, 37.75)):
            Rectangle(SKETCH_16_W, SKETCH_16_H)
    extrude(amount=-CUT_EXTRUDE_9_DEPTH, mode=Mode.SUBTRACT)

    # 圆角3
    fillet_3_edges = [part.edges().sort_by_distance(p)[0] for p in [
        (-153.7, 40, 0),
        (-159.7, 40, 0),
        (-117.7, 40, 0),
        (-123.7, 40, 0),
        (-117.7, 35.5, 0),
        (-123.7, 35.5, 0),
        (-153.7, 35.5, 0),
        (-159.7, 35.5, 0),
    ]]
    fillet(fillet_3_edges, radius=FILLET_3_R)


solid = part.part
